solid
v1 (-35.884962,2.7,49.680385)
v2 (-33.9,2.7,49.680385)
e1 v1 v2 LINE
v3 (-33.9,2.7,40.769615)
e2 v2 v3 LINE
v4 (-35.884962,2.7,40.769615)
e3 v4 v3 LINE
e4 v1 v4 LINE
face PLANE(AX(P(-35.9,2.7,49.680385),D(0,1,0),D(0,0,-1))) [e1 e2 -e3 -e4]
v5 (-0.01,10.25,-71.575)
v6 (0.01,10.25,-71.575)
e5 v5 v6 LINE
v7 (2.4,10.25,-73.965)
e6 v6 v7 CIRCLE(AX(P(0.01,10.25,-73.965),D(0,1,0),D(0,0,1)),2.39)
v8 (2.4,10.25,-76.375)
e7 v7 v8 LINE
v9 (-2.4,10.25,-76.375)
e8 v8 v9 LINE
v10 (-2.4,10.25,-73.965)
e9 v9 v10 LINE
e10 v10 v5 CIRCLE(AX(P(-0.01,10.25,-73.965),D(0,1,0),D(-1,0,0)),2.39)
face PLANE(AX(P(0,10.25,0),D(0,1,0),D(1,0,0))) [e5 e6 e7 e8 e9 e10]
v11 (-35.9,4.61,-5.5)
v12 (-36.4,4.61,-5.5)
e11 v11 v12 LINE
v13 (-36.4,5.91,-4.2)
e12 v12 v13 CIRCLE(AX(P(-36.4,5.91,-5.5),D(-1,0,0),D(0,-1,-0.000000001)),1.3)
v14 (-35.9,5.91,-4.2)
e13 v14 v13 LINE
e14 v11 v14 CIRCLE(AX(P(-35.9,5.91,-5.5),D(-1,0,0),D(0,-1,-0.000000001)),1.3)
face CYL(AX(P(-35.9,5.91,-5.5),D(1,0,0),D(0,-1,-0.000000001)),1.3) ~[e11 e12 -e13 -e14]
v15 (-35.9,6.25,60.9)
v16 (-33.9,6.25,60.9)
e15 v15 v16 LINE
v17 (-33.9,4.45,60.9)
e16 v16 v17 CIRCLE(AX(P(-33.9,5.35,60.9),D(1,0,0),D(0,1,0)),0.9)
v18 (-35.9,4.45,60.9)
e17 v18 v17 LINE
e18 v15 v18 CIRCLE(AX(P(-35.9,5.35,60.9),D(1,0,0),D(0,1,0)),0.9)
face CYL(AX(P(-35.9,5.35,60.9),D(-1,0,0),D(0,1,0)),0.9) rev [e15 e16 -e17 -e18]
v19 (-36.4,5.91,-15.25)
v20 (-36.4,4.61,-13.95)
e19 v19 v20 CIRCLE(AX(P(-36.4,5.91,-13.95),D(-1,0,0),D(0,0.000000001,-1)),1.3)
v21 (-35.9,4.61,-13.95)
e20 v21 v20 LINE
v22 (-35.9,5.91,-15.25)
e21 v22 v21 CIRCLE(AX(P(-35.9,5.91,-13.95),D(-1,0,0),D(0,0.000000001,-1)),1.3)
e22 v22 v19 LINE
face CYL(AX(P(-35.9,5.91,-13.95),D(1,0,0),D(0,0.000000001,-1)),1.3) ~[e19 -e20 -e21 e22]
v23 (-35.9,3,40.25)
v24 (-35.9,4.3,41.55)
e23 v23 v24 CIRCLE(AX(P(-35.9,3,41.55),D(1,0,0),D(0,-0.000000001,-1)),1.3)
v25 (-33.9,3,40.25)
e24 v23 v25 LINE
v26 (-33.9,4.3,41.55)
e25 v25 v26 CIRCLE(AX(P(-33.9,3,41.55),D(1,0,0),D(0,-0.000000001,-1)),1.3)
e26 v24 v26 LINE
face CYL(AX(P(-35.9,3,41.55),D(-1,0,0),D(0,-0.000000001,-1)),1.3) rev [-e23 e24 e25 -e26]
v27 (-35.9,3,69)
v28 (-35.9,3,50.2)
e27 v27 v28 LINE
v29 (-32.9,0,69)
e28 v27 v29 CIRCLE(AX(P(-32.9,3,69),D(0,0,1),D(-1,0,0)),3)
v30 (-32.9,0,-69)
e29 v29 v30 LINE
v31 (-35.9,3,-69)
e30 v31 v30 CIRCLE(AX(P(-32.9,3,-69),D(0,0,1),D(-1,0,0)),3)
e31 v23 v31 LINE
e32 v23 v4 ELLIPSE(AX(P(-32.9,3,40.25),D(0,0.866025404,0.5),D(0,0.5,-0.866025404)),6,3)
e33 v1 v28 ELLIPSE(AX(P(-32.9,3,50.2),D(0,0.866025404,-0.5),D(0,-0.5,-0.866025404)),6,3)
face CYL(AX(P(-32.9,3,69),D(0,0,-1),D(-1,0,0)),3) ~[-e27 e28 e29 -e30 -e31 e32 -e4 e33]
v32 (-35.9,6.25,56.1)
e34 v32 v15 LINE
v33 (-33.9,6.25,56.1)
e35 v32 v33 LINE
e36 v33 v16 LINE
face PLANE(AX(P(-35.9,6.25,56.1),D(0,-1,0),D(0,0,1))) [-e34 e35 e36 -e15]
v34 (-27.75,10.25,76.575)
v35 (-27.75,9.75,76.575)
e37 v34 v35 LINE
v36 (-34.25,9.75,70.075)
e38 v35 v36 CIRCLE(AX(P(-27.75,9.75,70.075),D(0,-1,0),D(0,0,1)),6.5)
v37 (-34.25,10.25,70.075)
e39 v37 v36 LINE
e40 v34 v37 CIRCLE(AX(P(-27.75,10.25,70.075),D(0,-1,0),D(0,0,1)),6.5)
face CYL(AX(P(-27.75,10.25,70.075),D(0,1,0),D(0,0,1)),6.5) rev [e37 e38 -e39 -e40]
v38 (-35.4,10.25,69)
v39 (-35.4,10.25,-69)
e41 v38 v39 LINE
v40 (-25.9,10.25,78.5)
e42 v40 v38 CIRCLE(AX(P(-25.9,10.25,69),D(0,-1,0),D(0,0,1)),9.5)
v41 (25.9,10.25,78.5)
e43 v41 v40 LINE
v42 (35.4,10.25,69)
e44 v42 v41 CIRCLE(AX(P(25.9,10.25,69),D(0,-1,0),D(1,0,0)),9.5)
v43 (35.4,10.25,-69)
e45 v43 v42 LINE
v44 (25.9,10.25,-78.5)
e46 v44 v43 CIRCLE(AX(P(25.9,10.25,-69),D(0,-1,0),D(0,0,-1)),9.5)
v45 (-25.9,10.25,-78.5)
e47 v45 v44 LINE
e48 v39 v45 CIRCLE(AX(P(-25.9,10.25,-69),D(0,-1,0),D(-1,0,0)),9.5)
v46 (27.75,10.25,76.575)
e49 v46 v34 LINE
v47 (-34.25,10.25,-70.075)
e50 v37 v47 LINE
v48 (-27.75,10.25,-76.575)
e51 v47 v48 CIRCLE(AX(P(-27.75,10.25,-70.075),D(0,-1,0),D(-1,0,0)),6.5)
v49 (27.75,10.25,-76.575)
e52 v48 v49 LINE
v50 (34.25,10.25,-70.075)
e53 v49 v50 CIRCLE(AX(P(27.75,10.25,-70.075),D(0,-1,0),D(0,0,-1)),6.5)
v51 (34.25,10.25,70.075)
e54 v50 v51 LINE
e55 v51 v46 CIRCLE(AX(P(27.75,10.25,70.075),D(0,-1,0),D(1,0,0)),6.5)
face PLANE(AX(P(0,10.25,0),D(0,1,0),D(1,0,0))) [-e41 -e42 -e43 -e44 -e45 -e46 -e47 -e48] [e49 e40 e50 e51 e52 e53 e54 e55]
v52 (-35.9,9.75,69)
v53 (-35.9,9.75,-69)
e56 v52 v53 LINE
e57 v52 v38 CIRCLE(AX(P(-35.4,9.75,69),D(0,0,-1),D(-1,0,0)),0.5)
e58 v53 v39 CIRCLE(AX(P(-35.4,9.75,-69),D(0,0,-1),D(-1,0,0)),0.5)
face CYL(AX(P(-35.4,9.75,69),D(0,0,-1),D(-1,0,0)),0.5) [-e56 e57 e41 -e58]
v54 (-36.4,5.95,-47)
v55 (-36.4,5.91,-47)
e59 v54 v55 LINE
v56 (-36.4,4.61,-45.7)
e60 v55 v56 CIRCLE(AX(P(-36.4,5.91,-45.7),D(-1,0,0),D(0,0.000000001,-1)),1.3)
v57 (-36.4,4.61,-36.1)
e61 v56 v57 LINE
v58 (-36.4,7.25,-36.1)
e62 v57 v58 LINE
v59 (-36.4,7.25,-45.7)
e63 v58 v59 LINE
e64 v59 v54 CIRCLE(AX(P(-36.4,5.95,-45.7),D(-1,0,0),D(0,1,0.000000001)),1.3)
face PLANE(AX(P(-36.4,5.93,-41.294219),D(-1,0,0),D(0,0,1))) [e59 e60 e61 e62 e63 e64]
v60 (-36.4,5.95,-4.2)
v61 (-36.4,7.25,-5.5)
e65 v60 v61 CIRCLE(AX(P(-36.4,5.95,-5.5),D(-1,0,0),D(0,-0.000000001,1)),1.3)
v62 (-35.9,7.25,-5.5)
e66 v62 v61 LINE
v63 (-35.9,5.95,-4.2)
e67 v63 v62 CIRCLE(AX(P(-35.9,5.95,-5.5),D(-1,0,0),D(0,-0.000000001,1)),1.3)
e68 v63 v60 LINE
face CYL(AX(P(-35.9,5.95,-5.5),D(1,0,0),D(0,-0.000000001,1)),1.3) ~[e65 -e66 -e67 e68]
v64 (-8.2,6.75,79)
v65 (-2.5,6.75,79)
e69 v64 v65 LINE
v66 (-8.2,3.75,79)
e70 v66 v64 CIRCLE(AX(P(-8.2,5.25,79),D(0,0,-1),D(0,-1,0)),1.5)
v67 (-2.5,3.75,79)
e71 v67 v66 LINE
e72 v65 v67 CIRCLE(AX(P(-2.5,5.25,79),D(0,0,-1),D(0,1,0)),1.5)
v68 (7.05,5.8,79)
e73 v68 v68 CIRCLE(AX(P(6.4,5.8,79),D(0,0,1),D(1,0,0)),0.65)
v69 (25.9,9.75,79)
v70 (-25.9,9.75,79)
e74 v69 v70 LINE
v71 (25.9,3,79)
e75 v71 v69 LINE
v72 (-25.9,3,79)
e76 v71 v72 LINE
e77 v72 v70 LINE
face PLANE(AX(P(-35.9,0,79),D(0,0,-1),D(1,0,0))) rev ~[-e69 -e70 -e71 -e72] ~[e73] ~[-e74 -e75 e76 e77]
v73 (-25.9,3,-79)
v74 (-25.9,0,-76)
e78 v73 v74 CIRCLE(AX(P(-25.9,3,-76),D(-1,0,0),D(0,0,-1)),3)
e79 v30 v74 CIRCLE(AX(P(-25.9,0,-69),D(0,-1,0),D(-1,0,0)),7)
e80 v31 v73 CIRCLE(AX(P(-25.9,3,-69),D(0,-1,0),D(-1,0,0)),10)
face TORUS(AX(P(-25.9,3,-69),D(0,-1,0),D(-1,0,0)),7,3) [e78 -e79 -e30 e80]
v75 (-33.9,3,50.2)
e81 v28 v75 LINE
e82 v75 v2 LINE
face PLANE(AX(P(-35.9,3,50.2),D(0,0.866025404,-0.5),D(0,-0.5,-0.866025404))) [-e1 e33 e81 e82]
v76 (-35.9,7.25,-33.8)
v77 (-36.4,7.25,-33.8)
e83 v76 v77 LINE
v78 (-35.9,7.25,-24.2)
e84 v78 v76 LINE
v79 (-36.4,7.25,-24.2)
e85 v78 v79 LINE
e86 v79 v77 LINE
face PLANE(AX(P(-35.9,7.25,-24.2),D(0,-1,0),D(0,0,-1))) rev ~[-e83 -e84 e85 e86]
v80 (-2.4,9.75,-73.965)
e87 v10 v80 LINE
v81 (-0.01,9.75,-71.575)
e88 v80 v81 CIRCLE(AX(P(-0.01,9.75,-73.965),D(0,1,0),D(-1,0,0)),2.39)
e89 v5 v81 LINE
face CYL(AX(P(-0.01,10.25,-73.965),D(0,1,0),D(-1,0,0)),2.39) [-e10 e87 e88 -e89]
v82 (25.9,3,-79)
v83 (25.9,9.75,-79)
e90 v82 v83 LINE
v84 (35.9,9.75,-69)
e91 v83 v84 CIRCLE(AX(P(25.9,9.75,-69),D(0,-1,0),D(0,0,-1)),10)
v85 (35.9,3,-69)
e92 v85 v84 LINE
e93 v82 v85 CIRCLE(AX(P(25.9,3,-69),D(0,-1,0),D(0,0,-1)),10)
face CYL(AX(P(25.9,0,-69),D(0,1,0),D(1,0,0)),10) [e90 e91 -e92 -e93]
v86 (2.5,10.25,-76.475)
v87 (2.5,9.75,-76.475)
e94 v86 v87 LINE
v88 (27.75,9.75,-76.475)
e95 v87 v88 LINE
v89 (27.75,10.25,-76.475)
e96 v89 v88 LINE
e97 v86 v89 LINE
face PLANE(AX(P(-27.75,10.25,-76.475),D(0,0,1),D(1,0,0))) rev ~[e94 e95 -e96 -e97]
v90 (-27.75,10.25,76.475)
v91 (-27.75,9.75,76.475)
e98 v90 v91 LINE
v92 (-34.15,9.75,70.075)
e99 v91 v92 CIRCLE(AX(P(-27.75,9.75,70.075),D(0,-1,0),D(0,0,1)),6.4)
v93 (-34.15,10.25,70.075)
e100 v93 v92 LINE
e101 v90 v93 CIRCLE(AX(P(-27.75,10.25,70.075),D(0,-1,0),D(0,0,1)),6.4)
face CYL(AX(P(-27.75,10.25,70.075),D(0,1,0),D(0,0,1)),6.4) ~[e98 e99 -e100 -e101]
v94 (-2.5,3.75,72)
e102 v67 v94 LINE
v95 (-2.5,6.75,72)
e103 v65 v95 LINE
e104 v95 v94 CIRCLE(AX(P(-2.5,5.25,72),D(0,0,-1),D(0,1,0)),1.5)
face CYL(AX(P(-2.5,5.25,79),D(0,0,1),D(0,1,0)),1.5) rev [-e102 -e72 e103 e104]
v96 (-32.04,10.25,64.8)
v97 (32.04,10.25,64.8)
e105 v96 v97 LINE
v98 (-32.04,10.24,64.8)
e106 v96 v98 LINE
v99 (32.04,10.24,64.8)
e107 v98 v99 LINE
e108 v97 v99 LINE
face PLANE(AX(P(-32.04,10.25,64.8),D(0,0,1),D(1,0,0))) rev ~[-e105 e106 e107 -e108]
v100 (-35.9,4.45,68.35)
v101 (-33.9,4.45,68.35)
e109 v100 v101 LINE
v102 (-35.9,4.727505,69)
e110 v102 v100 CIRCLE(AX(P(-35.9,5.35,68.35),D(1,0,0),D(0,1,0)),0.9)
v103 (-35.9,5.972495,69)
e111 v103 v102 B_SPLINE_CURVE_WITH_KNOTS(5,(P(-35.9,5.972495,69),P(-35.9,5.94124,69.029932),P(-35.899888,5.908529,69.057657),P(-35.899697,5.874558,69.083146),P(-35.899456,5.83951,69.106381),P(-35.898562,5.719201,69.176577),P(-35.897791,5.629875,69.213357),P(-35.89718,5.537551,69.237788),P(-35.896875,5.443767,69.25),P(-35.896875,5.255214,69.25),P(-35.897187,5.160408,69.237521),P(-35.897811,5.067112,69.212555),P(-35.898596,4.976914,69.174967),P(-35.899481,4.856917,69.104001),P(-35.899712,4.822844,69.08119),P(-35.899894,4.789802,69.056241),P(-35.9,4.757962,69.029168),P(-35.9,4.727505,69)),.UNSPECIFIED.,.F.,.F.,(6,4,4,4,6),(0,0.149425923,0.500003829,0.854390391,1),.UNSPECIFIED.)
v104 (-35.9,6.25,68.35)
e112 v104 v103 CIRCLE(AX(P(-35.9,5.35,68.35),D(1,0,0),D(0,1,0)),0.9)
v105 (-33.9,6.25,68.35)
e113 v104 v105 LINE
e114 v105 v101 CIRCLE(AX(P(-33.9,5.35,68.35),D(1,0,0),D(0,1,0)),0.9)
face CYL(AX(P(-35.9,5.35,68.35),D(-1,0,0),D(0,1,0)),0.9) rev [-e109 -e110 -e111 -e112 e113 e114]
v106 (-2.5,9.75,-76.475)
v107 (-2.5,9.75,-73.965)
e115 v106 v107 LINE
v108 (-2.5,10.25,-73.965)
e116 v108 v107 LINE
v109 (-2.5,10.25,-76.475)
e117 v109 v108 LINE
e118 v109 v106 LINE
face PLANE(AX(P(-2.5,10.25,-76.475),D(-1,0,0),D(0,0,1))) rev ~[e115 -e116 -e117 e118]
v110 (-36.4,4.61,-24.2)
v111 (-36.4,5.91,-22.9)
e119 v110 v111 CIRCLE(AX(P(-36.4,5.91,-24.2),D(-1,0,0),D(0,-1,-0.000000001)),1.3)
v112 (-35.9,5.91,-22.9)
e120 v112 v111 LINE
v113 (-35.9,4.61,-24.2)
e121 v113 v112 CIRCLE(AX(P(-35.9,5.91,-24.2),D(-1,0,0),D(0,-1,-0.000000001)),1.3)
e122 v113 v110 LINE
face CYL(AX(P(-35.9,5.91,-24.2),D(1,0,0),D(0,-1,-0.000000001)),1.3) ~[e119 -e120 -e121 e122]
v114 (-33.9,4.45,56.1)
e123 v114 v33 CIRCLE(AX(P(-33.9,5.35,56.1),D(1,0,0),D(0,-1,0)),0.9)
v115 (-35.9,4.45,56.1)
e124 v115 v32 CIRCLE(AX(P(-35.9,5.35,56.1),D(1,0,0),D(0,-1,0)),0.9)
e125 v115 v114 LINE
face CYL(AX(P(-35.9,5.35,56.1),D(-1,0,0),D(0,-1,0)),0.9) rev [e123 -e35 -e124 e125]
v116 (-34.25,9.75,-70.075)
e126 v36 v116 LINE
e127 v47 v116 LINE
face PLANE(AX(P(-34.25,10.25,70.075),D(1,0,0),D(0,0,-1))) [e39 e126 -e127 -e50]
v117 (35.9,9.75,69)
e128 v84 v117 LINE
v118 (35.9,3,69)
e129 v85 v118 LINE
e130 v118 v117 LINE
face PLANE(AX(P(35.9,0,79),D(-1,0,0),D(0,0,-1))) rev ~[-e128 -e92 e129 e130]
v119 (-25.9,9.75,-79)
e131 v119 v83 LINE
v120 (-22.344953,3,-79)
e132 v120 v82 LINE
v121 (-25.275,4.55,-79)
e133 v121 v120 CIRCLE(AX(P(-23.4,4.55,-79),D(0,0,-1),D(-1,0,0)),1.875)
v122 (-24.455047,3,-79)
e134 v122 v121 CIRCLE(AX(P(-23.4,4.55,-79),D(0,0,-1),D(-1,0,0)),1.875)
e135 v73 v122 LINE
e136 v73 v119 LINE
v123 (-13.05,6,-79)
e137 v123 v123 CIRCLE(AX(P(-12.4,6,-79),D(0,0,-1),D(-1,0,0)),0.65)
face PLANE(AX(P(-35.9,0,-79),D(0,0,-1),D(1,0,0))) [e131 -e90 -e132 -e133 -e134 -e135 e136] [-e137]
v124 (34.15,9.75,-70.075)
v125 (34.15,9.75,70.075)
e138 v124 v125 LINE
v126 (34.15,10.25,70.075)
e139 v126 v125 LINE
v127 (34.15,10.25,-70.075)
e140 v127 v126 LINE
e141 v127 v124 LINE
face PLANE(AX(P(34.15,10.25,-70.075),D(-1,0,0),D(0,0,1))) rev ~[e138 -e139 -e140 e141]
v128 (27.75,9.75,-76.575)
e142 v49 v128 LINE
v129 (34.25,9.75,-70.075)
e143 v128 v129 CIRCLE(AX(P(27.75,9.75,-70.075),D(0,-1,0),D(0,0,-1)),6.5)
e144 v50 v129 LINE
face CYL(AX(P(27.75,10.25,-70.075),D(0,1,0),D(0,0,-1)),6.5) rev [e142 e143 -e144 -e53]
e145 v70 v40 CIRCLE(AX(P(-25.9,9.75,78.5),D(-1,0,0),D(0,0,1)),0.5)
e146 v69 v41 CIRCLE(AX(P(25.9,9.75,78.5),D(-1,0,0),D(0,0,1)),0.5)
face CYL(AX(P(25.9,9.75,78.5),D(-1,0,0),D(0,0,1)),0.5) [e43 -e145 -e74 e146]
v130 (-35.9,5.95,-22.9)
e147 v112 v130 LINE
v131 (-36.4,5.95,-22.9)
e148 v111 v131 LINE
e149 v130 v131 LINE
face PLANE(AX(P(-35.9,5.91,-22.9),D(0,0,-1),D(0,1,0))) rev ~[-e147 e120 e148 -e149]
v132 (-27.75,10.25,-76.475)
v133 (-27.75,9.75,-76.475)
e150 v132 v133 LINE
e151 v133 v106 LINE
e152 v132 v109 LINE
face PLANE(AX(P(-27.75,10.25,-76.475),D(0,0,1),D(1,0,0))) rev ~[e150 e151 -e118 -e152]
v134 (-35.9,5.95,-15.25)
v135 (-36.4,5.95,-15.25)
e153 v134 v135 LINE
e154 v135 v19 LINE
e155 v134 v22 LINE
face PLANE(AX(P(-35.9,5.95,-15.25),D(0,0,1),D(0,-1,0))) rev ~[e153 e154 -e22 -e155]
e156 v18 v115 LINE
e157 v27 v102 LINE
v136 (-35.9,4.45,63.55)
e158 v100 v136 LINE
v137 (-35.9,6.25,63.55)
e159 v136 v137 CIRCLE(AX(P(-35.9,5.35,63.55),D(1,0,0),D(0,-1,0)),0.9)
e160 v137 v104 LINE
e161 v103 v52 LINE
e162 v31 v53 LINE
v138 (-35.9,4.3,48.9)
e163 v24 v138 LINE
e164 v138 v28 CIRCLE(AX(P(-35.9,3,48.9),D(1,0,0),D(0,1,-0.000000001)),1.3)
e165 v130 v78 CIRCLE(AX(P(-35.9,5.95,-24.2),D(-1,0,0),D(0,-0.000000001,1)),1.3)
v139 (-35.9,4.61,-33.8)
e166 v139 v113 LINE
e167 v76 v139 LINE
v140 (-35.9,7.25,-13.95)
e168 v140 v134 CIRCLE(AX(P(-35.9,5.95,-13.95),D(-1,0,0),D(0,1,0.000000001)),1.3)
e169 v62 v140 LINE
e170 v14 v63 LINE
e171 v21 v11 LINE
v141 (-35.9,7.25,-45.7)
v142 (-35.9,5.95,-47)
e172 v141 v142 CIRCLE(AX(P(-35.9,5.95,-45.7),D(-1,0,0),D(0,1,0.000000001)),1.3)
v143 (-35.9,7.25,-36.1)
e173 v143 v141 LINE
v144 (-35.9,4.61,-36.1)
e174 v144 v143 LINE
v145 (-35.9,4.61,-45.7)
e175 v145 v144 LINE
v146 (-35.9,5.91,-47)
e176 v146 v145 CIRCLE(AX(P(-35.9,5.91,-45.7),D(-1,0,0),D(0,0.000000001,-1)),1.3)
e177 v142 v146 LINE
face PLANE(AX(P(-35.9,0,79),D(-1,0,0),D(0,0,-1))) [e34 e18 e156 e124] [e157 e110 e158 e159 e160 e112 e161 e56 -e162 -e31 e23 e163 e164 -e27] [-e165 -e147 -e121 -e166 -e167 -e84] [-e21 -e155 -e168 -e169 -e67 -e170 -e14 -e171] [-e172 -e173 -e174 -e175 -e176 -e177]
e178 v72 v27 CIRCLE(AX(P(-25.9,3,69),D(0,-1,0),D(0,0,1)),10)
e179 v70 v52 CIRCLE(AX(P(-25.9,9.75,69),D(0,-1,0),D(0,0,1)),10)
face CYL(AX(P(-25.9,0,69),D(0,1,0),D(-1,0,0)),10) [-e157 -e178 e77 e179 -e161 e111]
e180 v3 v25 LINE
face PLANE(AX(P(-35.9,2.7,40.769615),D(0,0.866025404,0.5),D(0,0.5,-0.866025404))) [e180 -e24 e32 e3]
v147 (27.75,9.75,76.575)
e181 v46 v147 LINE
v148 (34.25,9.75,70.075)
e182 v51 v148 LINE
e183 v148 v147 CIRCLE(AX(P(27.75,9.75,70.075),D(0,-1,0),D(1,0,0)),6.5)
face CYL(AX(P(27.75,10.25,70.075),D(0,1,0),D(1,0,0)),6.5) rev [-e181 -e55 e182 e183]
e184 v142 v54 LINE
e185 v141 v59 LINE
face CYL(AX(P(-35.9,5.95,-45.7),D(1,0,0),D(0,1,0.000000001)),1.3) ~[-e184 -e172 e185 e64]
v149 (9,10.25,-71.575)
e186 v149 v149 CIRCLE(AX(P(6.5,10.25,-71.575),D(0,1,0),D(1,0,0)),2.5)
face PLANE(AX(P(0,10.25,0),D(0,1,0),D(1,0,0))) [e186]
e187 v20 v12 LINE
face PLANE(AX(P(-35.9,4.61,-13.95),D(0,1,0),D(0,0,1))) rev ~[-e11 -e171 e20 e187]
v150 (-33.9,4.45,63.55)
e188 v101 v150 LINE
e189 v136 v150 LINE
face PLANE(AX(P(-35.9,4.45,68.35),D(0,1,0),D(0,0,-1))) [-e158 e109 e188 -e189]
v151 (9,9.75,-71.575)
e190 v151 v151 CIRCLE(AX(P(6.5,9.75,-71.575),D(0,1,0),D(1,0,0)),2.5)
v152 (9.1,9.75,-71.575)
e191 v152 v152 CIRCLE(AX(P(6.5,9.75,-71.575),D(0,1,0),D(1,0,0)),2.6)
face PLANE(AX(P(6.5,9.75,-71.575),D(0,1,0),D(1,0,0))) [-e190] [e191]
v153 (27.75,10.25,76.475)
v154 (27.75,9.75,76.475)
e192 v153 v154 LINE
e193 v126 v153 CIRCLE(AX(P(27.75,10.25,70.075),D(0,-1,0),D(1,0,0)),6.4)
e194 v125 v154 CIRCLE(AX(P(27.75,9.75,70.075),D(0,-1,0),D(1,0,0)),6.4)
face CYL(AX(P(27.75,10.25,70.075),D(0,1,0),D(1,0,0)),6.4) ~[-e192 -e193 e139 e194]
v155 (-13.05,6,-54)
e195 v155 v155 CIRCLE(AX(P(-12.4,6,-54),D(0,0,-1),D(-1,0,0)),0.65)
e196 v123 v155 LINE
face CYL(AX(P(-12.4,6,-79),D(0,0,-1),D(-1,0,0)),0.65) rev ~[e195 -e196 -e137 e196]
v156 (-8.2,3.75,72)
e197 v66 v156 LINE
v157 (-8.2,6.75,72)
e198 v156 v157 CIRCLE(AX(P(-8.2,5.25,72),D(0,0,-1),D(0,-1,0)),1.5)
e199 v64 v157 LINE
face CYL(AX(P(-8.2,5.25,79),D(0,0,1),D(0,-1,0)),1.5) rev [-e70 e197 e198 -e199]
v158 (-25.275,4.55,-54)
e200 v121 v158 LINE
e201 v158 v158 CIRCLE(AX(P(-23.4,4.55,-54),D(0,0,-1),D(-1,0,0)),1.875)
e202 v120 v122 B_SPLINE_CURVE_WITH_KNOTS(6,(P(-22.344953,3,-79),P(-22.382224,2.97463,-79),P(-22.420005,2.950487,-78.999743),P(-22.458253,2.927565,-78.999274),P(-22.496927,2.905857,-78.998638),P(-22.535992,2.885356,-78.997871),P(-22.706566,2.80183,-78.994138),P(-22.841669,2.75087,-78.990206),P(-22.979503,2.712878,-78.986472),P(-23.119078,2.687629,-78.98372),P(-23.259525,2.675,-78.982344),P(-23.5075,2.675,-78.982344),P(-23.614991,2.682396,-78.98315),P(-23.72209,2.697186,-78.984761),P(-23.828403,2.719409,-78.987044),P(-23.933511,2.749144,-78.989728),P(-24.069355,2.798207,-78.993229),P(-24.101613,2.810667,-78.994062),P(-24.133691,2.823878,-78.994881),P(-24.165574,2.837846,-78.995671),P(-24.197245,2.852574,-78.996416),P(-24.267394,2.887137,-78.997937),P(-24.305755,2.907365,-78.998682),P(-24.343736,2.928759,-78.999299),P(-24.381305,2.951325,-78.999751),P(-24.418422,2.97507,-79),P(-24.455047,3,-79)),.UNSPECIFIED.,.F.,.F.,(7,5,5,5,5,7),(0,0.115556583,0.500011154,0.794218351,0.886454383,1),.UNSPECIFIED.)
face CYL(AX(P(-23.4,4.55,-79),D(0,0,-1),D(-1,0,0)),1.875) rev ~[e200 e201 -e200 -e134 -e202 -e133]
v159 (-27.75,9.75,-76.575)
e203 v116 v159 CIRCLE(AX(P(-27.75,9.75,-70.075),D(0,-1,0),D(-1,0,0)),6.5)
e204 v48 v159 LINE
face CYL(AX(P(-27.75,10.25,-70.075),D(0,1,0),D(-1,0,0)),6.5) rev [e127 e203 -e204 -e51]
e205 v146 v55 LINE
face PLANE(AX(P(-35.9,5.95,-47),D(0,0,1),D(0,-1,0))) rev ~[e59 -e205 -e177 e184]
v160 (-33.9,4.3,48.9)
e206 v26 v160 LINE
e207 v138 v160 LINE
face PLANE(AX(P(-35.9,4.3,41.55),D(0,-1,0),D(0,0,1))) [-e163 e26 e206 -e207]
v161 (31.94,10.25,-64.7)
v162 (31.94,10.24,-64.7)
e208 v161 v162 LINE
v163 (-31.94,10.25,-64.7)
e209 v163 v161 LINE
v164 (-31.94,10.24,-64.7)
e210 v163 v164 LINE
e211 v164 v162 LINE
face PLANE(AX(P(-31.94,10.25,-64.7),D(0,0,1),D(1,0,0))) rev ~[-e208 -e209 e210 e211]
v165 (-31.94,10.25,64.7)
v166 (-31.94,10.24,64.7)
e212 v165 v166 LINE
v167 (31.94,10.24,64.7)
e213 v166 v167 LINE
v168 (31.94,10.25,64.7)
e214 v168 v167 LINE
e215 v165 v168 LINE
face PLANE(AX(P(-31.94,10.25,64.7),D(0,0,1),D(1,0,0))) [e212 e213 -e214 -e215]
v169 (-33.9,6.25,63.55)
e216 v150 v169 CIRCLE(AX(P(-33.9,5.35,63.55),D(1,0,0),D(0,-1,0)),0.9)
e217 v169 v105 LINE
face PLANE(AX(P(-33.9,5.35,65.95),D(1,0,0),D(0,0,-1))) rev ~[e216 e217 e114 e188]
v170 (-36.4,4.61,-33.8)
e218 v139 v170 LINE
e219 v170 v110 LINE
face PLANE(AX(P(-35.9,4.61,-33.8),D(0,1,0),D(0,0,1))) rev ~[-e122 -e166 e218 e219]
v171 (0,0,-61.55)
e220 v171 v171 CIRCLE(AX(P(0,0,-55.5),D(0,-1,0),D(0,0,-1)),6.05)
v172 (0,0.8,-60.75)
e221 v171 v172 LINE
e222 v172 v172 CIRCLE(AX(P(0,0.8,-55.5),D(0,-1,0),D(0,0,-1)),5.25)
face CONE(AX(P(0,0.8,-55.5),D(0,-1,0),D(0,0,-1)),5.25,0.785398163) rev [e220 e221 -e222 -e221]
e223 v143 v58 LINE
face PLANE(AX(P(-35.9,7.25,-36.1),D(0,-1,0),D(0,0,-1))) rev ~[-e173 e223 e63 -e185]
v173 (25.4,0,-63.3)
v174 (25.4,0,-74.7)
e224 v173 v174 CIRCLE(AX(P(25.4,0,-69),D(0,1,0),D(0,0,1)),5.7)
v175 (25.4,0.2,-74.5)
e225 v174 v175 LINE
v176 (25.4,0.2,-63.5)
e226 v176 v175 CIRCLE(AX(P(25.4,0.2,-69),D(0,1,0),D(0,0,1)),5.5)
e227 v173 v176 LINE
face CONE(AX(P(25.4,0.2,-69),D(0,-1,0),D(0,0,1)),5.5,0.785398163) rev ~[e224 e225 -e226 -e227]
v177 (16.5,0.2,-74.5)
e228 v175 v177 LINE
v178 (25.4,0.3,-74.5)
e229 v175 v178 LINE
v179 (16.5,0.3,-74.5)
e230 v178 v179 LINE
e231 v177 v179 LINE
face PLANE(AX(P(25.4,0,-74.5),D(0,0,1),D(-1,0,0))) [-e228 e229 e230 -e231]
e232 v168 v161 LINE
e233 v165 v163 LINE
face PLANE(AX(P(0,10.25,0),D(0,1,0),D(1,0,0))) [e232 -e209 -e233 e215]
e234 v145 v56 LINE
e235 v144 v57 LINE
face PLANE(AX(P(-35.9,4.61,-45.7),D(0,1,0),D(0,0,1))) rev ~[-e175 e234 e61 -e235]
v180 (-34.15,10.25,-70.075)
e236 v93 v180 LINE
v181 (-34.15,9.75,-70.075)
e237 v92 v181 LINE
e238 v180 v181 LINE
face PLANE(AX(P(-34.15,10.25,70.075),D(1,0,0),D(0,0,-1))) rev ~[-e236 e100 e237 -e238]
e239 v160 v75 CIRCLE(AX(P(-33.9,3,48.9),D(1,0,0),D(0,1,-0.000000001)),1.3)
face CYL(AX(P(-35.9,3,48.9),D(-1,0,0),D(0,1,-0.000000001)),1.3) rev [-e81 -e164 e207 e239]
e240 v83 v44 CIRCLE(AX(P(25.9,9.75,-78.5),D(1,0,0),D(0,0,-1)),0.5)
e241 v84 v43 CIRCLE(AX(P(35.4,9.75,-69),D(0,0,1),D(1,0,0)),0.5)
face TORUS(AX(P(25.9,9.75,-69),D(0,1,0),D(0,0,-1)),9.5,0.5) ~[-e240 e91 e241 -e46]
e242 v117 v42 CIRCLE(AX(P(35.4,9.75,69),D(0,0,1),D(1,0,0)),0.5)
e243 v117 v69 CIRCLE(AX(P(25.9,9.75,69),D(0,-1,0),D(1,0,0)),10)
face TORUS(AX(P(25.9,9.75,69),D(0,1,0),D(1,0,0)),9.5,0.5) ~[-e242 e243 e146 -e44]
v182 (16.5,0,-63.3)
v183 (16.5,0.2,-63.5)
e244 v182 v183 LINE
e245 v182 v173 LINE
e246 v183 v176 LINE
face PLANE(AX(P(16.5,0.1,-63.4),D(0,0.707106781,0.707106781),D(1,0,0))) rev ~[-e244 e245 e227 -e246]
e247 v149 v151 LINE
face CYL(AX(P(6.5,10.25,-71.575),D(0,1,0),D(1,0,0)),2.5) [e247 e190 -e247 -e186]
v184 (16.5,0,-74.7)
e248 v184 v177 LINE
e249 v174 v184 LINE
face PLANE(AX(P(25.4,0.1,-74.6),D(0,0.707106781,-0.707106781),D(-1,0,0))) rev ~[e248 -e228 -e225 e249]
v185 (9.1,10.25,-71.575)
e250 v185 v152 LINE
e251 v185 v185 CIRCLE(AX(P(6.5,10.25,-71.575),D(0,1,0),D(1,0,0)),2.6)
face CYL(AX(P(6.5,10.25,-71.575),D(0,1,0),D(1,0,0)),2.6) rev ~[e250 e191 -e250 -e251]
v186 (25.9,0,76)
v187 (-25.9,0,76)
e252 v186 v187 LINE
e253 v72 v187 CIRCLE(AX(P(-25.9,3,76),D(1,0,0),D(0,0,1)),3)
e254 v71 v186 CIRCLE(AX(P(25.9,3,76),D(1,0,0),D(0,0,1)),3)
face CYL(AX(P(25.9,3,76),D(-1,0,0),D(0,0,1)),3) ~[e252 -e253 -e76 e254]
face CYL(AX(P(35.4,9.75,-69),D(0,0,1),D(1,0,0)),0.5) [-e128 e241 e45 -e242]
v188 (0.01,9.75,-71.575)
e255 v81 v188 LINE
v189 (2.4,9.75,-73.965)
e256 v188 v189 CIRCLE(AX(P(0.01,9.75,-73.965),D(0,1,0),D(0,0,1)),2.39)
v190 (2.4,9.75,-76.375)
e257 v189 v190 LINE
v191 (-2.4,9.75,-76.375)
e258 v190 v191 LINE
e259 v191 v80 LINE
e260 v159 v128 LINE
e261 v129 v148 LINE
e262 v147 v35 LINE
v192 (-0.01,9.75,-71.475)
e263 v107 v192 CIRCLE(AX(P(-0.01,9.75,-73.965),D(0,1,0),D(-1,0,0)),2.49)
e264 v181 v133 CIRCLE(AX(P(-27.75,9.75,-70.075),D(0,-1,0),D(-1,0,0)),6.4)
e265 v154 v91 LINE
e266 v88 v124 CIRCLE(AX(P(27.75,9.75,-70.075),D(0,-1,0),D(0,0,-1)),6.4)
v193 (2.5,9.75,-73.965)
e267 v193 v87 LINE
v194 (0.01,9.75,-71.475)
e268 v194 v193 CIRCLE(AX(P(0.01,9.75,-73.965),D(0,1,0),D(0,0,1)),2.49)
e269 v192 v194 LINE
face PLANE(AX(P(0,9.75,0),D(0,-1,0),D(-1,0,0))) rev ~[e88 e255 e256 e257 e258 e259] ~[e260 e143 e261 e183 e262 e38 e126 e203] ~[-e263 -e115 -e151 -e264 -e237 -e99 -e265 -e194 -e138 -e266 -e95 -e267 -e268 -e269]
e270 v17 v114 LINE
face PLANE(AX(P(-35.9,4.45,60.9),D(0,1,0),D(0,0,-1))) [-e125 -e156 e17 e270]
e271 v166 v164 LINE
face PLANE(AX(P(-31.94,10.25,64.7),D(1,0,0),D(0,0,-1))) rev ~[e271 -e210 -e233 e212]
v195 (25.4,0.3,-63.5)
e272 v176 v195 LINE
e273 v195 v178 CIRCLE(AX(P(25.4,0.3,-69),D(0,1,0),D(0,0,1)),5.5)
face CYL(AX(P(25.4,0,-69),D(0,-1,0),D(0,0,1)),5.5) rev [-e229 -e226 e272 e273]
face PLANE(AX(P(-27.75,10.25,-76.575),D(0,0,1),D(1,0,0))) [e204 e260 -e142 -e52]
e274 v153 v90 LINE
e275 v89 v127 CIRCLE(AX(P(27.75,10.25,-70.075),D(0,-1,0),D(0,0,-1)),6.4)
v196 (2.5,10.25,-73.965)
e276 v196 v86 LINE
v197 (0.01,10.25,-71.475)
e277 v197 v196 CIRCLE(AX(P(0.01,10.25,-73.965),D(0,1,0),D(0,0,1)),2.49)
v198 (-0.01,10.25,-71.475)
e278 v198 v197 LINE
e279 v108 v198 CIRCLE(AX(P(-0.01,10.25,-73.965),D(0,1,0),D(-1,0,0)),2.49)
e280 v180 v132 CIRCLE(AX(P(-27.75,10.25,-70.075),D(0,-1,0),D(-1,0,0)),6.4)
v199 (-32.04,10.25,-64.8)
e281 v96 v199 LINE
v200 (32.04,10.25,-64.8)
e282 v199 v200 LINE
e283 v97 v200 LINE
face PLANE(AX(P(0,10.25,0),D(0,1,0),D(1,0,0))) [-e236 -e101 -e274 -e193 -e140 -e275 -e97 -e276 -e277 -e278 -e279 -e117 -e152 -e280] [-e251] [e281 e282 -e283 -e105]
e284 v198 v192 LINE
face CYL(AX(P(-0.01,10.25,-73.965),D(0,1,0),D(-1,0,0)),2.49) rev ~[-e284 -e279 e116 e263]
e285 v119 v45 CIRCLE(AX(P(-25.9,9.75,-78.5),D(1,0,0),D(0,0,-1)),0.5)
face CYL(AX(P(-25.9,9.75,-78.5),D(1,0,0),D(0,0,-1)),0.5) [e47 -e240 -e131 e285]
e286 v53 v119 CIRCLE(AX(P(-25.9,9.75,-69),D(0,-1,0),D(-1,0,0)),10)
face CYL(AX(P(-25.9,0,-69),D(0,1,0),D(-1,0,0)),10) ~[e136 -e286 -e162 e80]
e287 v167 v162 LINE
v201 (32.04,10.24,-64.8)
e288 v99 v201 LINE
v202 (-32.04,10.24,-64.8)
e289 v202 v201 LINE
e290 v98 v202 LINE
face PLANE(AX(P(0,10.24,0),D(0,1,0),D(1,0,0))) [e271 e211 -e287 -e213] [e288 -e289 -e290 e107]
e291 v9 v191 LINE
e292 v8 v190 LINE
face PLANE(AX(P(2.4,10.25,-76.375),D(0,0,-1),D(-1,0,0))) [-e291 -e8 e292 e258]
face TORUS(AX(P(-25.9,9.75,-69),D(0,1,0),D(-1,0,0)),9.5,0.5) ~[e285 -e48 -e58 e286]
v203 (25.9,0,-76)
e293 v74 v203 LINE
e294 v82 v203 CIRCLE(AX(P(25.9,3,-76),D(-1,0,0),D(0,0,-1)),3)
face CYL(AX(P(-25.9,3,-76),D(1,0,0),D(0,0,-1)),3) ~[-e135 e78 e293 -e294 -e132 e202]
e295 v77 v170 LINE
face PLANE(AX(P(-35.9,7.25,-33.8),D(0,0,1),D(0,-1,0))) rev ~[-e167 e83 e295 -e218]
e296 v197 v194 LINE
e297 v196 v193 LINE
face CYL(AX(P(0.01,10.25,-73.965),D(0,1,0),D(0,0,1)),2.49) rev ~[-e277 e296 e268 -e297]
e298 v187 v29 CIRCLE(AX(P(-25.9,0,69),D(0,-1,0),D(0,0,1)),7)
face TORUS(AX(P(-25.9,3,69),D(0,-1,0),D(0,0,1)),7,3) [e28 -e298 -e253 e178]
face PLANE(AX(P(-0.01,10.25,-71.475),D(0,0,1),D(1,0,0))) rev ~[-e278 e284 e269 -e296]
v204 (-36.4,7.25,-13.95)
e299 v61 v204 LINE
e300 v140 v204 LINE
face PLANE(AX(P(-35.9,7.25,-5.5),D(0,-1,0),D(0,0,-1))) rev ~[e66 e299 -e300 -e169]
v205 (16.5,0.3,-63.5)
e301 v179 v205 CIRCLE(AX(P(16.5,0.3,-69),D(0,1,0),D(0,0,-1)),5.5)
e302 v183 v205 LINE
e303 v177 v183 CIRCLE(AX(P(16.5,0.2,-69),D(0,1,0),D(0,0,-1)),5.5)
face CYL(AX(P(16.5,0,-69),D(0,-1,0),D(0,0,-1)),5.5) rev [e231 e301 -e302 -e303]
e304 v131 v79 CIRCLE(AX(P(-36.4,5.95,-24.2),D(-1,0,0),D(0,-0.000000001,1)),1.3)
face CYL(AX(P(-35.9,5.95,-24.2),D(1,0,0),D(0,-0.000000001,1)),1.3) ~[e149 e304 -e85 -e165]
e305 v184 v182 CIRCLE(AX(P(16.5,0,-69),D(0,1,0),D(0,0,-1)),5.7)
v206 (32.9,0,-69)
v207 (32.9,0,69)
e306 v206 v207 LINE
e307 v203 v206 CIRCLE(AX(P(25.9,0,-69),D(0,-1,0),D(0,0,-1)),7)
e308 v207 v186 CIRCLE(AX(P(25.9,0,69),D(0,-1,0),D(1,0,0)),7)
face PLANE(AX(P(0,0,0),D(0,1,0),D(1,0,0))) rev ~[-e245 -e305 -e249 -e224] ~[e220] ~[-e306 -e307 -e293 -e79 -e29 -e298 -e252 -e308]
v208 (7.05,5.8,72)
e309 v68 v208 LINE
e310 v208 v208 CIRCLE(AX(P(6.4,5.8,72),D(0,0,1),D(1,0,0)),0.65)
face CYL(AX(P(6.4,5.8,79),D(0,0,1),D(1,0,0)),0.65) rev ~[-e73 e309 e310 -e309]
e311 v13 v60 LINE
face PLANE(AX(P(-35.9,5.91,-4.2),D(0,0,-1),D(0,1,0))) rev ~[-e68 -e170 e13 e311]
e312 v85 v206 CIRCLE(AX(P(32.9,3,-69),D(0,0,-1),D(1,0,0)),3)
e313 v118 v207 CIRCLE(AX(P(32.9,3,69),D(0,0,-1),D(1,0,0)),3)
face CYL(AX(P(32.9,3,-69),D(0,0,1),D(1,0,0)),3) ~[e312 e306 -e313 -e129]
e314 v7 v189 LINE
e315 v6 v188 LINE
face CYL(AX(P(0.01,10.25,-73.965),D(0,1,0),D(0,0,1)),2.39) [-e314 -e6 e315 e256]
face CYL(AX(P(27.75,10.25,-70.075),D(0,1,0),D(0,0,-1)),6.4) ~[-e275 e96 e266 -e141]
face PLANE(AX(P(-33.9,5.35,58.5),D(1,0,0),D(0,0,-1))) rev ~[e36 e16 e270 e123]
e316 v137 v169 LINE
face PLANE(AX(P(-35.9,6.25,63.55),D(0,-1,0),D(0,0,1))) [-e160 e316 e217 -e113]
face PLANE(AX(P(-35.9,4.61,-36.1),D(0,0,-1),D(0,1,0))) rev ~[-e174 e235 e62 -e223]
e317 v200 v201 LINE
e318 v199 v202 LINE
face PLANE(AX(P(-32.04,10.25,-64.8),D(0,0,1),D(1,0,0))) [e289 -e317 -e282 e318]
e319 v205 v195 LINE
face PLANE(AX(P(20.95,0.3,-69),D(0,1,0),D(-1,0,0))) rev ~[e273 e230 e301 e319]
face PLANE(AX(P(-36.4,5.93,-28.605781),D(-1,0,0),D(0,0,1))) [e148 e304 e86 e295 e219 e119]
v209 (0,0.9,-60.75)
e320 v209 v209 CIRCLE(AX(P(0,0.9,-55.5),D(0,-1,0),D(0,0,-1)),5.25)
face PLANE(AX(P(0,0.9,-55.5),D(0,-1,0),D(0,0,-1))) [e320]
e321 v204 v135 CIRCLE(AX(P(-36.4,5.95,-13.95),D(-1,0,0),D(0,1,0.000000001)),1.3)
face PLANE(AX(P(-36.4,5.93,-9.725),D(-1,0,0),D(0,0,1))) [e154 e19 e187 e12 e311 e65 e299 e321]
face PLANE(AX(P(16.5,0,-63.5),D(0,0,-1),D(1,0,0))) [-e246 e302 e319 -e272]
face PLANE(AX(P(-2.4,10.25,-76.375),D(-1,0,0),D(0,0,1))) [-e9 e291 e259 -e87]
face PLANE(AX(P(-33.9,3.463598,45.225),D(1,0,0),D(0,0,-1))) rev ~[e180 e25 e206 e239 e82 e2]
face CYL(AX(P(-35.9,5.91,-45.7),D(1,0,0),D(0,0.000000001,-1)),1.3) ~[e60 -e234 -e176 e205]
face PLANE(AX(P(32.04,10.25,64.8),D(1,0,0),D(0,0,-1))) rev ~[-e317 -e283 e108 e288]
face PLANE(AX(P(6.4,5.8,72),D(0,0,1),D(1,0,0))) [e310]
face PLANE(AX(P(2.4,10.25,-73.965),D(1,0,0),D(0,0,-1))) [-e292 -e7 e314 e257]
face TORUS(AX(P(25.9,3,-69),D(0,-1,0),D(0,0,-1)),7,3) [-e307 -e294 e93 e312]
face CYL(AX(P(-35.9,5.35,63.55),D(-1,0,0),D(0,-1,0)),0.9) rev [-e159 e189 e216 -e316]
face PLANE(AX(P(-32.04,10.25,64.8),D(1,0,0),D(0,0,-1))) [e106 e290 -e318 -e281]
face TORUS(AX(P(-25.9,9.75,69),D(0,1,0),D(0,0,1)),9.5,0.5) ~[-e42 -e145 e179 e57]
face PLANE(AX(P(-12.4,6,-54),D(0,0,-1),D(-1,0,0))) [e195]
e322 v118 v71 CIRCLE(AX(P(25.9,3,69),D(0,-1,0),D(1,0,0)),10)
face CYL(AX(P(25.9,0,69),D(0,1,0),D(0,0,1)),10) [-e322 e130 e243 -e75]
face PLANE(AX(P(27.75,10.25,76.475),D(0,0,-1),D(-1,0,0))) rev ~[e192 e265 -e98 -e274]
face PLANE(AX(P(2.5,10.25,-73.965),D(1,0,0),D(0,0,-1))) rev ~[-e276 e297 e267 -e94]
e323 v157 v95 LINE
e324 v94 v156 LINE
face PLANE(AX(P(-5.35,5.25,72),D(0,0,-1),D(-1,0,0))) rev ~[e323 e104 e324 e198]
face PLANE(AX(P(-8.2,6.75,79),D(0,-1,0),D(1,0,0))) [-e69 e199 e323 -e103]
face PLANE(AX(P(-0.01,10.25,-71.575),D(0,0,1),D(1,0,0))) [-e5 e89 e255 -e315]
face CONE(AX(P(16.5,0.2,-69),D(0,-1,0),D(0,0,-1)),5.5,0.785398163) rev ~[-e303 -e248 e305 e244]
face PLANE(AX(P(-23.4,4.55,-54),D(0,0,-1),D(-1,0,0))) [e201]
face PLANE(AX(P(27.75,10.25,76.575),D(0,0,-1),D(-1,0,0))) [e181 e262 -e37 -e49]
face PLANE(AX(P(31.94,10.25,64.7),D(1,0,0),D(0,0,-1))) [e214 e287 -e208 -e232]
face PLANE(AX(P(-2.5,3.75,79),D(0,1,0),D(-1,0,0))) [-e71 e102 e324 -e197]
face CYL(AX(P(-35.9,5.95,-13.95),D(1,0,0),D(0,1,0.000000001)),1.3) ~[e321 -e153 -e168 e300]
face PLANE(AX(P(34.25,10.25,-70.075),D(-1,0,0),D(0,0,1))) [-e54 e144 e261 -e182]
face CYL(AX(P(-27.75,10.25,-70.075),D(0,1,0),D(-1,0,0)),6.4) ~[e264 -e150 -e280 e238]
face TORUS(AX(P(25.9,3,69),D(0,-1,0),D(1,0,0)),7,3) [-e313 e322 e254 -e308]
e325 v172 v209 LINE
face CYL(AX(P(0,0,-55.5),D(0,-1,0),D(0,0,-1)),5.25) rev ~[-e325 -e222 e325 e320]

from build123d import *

# Parameters (mm, degrees)
SKIZZE1_W                            = 71.8
SKIZZE1_H                            = 158
AUFSATZ_LINEAR_AUSTRAGEN1_DEPTH      = 10.25
VERRUNDUNG1_R                        = 10
VERRUNDUNG2_R                        = 3
VERRUNDUNG3_R                        = 0.5
SCHNITT_LINEAR_AUSTRAGEN_D_NN1_DEPTH = 0.5
SCHNITT_LINEAR_AUSTRAGEN_D_NN2_DEPTH = 0.5
SKIZZE4_R                            = 2.6
SKIZZE4_R_2                          = 2.5
SCHNITT_LINEAR_AUSTRAGEN_D_NN3_DEPTH = 0.5
AUFSATZ_LINEAR_AUSTRAGEN2_DEPTH      = 0.5
SKIZZE6_R                            = 1.875
SKIZZE6_R_2                          = 0.65
SCHNITT_LINEAR_AUSTRAGEN1_DEPTH      = 25
SKIZZE7_R                            = 0.65
SCHNITT_LINEAR_AUSTRAGEN2_DEPTH      = 7
SKIZZE8_R                            = 5.25
SCHNITT_LINEAR_AUSTRAGEN3_DEPTH      = 0.9
FASE1_SIZE                           = 0.8
SCHNITT_LINEAR_AUSTRAGEN4_DEPTH      = 0.3
FASE2_SIZE                           = 0.2
SKIZZE10_W                           = 64.08
SKIZZE10_H                           = 129.6
SKIZZE10_W_2                         = 63.88
SKIZZE10_H_2                         = 129.4
SCHNITT_LINEAR_AUSTRAGEN_D_NN4_DEPTH = 0.01
SCHNITT_LINEAR_AUSTRAGEN5_DEPTH      = 2


with BuildPart() as part:
    # Skizze1 → Aufsatz-Linear austragen1 (new body)
    with BuildSketch(Plane(origin=(0, 0, 0), x_dir=(1, 0, 0), z_dir=(0, 1, 0))):
        Rectangle(SKIZZE1_W, SKIZZE1_H)
    extrude(amount=AUFSATZ_LINEAR_AUSTRAGEN1_DEPTH)

    # Verrundung1
    verrundung1_edges = [part.edges().sort_by_distance(p)[0] for p in [
        (35.9, 5.125, 79),
        (-35.9, 5.125, 79),
        (-35.9, 5.125, -79),
        (35.9, 5.125, -79),
    ]]
    fillet(verrundung1_edges, radius=VERRUNDUNG1_R)

    # Verrundung2
    verrundung2_edges = [part.edges().sort_by_distance(p)[0] for p in [
        (-35.9, 0, 0),
        (35.9, 0, 0),
        (0, 0, 79),
        (0, 0, -79),
        (32.971067812, 0, 76.071067812),
        (-32.971067812, 0, 76.071067812),
        (32.971067812, 0, -76.071067812),
        (-32.971067812, 0, -76.071067812),
    ]]
    fillet(verrundung2_edges, radius=VERRUNDUNG2_R)

    # Verrundung3
    verrundung3_edges = [part.edges().sort_by_distance(p)[0] for p in [
        (-35.9, 10.25, 0),
        (0, 10.25, -79),
        (35.9, 10.25, 0),
        (0, 10.25, 79),
        (32.971067812, 10.25, 76.071067812),
        (-32.971067812, 10.25, 76.071067812),
        (32.971067812, 10.25, -76.071067812),
        (-32.971067812, 10.25, -76.071067812),
    ]]
    fillet(verrundung3_edges, radius=VERRUNDUNG3_R)

    # Skizze2 → Schnitt-Linear-Austragen-Dünn1 (cut)
    with BuildSketch(Plane(origin=(0, 10.25, 0), x_dir=(1, 0, 0), z_dir=(0, 1, 0))):
        with BuildLine():
            Line((-27.75, 76.575), (27.75, 76.575))
            ThreePointArc((27.75, 76.575), (32.346194078, 74.671194078), (34.25, 70.075))
            Line((34.25, 70.075), (34.25, -70.075))
            ThreePointArc((34.25, -70.075), (32.346194078, -74.671194078), (27.75, -76.575))
            Line((27.75, -76.575), (-27.75, -76.575))
            ThreePointArc((-27.75, -76.575), (-32.346194078, -74.671194078), (-34.25, -70.075))
            Line((-34.25, -70.075), (-34.25, 70.075))
            ThreePointArc((-34.25, 70.075), (-32.346194078, 74.671194078), (-27.75, 76.575))
        make_face()
        with BuildLine():
            Line((-27.75, 76.475), (27.75, 76.475))
            ThreePointArc((27.75, 76.475), (32.2754834, 74.6004834), (34.15, 70.075))
            Line((34.15, 70.075), (34.15, -70.075))
            ThreePointArc((34.15, -70.075), (32.2754834, -74.6004834), (27.75, -76.475))
            Line((27.75, -76.475), (-27.75, -76.475))
            ThreePointArc((-27.75, -76.475), (-32.2754834, -74.6004834), (-34.15, -70.075))
            Line((-34.15, -70.075), (-34.15, 70.075))
            ThreePointArc((-34.15, 70.075), (-32.2754834, 74.6004834), (-27.75, 76.475))
        make_face(mode=Mode.SUBTRACT)
    extrude(amount=-SCHNITT_LINEAR_AUSTRAGEN_D_NN1_DEPTH, mode=Mode.SUBTRACT)

    # Skizze3 → Schnitt-Linear-Austragen-Dünn2 (cut)
    with BuildSketch(Plane(origin=(0, 10.25, 0), x_dir=(1, 0, 0), z_dir=(0, 1, 0))):
        with BuildLine():
            Line((-0.01, 71.475), (0.01, 71.475))
            ThreePointArc((0.01, 71.475), (1.770695885, 72.204304115), (2.5, 73.965))
            Line((2.5, 73.965), (2.5, 76.475))
            Line((2.5, 76.475), (-2.5, 76.475))
            Line((-2.5, 76.475), (-2.5, 73.965))
            ThreePointArc((-2.5, 73.965), (-1.770695885, 72.204304115), (-0.01, 71.475))
        make_face()
        with BuildLine():
            Line((-0.01, 71.575), (0.01, 71.575))
            ThreePointArc((0.01, 71.575), (1.699985207, 72.275014793), (2.4, 73.965))
            Line((2.4, 73.965), (2.4, 76.375))
            Line((2.4, 76.375), (-2.4, 76.375))
            Line((-2.4, 76.375), (-2.4, 73.965))
            ThreePointArc((-2.4, 73.965), (-1.699985207, 72.275014793), (-0.01, 71.575))
        make_face(mode=Mode.SUBTRACT)
    extrude(amount=-SCHNITT_LINEAR_AUSTRAGEN_D_NN2_DEPTH, mode=Mode.SUBTRACT)

    # Skizze4 → Schnitt-Linear-Austragen-Dünn3 (cut)
    with BuildSketch(Plane(origin=(0, 10.25, 0), x_dir=(1, 0, 0), z_dir=(0, 1, 0))):
        with Locations((6.5, 71.575)):
            Circle(SKIZZE4_R)
        with Locations((6.5, 71.575)):
            Circle(SKIZZE4_R_2, mode=Mode.SUBTRACT)
    extrude(amount=-SCHNITT_LINEAR_AUSTRAGEN_D_NN3_DEPTH, mode=Mode.SUBTRACT)

    # Skizze5 → Aufsatz-Linear austragen2 (add)
    with BuildSketch(Plane.ZY.offset(35.9)):
        with BuildLine():
            Line((-45.7, 4.61), (-36.1, 4.61))
            Line((-36.1, 4.61), (-36.1, 7.25))
            Line((-36.1, 7.25), (-45.7, 7.25))
            ThreePointArc((-45.7, 7.25), (-46.619238816, 6.869238816), (-47, 5.95))
            Line((-47, 5.95), (-47, 5.91))
            ThreePointArc((-47, 5.91), (-46.619238816, 4.990761184), (-45.7, 4.61))
        make_face()
        with BuildLine():
            Line((-24.2, 7.25), (-33.8, 7.25))
            Line((-33.8, 7.25), (-33.8, 4.61))
            Line((-33.8, 4.61), (-24.2, 4.61))
            ThreePointArc((-24.2, 4.61), (-23.280761184, 4.990761184), (-22.9, 5.91))
            Line((-22.9, 5.91), (-22.9, 5.95))
            ThreePointArc((-22.9, 5.95), (-23.280761184, 6.869238816), (-24.2, 7.25))
        make_face()
        with BuildLine():
            Line((-5.5, 7.25), (-13.95, 7.25))
            ThreePointArc((-13.95, 7.25), (-14.869238816, 6.869238816), (-15.25, 5.95))
            Line((-15.25, 5.95), (-15.25, 5.91))
            ThreePointArc((-15.25, 5.91), (-14.869238816, 4.990761184), (-13.95, 4.61))
            Line((-13.95, 4.61), (-5.5, 4.61))
            ThreePointArc((-5.5, 4.61), (-4.580761184, 4.990761184), (-4.2, 5.91))
            Line((-4.2, 5.91), (-4.2, 5.95))
            ThreePointArc((-4.2, 5.95), (-4.580761184, 6.869238816), (-5.5, 7.25))
        make_face()
    extrude(amount=AUFSATZ_LINEAR_AUSTRAGEN2_DEPTH)

    # Skizze6 → Schnitt-Linear austragen1 (cut)
    with BuildSketch(Plane(origin=(0, 0, -79), x_dir=(-1, 0, 0), z_dir=(0, 0, -1))):
        with Locations((23.4, 4.55)):
            Circle(SKIZZE6_R)
        with Locations((12.4, 6)):
            Circle(SKIZZE6_R_2)
    extrude(amount=-SCHNITT_LINEAR_AUSTRAGEN1_DEPTH, mode=Mode.SUBTRACT)

    # Skizze7 → Schnitt-Linear austragen2 (cut)
    with BuildSketch(Plane.XY.offset(79)):
        with Locations((6.4, 5.8)):
            Circle(SKIZZE7_R)
        with BuildLine():
            Line((-8.2, 6.75), (-2.5, 6.75))
            ThreePointArc((-2.5, 6.75), (-1, 5.25), (-2.5, 3.75))
            Line((-2.5, 3.75), (-8.2, 3.75))
            ThreePointArc((-8.2, 3.75), (-9.7, 5.25), (-8.2, 6.75))
        make_face()
    extrude(amount=-SCHNITT_LINEAR_AUSTRAGEN2_DEPTH, mode=Mode.SUBTRACT)

    # Skizze8 → Schnitt-Linear austragen3 (cut)
    with BuildSketch(Plane.XZ):
        with Locations(Location((0, -55.5, 0), (0, 0, 270))):
            Circle(SKIZZE8_R)
    extrude(amount=-SCHNITT_LINEAR_AUSTRAGEN3_DEPTH, mode=Mode.SUBTRACT)

    # Fase1
    fase1_edges = [part.edges().sort_by_distance(p)[0] for p in [
        (0, 0, -50.25),
    ]]
    chamfer(fase1_edges, length=FASE1_SIZE)

    # Skizze9 → Schnitt-Linear austragen4 (cut)
    with BuildSketch(Plane.XZ):
        with BuildLine():
            Line((25.4, -74.5), (16.5, -74.5))
            ThreePointArc((16.5, -74.5), (11, -69), (16.5, -63.5))
            Line((16.5, -63.5), (25.4, -63.5))
            ThreePointArc((25.4, -63.5), (30.9, -69), (25.4, -74.5))
        make_face()
    extrude(amount=-SCHNITT_LINEAR_AUSTRAGEN4_DEPTH, mode=Mode.SUBTRACT)

    # Fase2
    fase2_edges = [part.edges().sort_by_distance(p)[0] for p in [
        (30.9, 0, -69),
        (20.95, 0, -63.5),
        (11, 0, -69),
        (20.95, 0, -74.5),
    ]]
    chamfer(fase2_edges, length=FASE2_SIZE)

    # Skizze10 → Schnitt-Linear-Austragen-Dünn4 (cut)
    with BuildSketch(Plane(origin=(0, 10.25, 0), x_dir=(1, 0, 0), z_dir=(0, 1, 0))):
        Rectangle(SKIZZE10_W, SKIZZE10_H)
        Rectangle(SKIZZE10_W_2, SKIZZE10_H_2, mode=Mode.SUBTRACT)
    extrude(amount=-SCHNITT_LINEAR_AUSTRAGEN_D_NN4_DEPTH, mode=Mode.SUBTRACT)

    # Skizze11 → Schnitt-Linear austragen5 (cut)
    with BuildSketch(Plane.ZY.offset(35.9)):
        with BuildLine():
            Line((56.1, 6.25), (60.9, 6.25))
            ThreePointArc((60.9, 6.25), (61.8, 5.35), (60.9, 4.45))
            Line((60.9, 4.45), (56.1, 4.45))
            ThreePointArc((56.1, 4.45), (55.2, 5.35), (56.1, 6.25))
        make_face()
        with BuildLine():
            Line((63.55, 6.25), (68.35, 6.25))
            ThreePointArc((68.35, 6.25), (69.25, 5.35), (68.35, 4.45))
            Line((68.35, 4.45), (63.55, 4.45))
            ThreePointArc((63.55, 4.45), (62.65, 5.35), (63.55, 6.25))
        make_face()
        with BuildLine():
            Line((41.55, 4.3), (48.9, 4.3))
            ThreePointArc((48.9, 4.3), (49.819238816, 3.919238816), (50.2, 3))
            Line((50.2, 3), (49.680384758, 2.7))
            Line((49.680384758, 2.7), (40.769615242, 2.7))
            Line((40.769615242, 2.7), (40.25, 3))
            ThreePointArc((40.25, 3), (40.630761184, 3.919238816), (41.55, 4.3))
        make_face()
    extrude(amount=-SCHNITT_LINEAR_AUSTRAGEN5_DEPTH, mode=Mode.SUBTRACT)


solid = part.part
